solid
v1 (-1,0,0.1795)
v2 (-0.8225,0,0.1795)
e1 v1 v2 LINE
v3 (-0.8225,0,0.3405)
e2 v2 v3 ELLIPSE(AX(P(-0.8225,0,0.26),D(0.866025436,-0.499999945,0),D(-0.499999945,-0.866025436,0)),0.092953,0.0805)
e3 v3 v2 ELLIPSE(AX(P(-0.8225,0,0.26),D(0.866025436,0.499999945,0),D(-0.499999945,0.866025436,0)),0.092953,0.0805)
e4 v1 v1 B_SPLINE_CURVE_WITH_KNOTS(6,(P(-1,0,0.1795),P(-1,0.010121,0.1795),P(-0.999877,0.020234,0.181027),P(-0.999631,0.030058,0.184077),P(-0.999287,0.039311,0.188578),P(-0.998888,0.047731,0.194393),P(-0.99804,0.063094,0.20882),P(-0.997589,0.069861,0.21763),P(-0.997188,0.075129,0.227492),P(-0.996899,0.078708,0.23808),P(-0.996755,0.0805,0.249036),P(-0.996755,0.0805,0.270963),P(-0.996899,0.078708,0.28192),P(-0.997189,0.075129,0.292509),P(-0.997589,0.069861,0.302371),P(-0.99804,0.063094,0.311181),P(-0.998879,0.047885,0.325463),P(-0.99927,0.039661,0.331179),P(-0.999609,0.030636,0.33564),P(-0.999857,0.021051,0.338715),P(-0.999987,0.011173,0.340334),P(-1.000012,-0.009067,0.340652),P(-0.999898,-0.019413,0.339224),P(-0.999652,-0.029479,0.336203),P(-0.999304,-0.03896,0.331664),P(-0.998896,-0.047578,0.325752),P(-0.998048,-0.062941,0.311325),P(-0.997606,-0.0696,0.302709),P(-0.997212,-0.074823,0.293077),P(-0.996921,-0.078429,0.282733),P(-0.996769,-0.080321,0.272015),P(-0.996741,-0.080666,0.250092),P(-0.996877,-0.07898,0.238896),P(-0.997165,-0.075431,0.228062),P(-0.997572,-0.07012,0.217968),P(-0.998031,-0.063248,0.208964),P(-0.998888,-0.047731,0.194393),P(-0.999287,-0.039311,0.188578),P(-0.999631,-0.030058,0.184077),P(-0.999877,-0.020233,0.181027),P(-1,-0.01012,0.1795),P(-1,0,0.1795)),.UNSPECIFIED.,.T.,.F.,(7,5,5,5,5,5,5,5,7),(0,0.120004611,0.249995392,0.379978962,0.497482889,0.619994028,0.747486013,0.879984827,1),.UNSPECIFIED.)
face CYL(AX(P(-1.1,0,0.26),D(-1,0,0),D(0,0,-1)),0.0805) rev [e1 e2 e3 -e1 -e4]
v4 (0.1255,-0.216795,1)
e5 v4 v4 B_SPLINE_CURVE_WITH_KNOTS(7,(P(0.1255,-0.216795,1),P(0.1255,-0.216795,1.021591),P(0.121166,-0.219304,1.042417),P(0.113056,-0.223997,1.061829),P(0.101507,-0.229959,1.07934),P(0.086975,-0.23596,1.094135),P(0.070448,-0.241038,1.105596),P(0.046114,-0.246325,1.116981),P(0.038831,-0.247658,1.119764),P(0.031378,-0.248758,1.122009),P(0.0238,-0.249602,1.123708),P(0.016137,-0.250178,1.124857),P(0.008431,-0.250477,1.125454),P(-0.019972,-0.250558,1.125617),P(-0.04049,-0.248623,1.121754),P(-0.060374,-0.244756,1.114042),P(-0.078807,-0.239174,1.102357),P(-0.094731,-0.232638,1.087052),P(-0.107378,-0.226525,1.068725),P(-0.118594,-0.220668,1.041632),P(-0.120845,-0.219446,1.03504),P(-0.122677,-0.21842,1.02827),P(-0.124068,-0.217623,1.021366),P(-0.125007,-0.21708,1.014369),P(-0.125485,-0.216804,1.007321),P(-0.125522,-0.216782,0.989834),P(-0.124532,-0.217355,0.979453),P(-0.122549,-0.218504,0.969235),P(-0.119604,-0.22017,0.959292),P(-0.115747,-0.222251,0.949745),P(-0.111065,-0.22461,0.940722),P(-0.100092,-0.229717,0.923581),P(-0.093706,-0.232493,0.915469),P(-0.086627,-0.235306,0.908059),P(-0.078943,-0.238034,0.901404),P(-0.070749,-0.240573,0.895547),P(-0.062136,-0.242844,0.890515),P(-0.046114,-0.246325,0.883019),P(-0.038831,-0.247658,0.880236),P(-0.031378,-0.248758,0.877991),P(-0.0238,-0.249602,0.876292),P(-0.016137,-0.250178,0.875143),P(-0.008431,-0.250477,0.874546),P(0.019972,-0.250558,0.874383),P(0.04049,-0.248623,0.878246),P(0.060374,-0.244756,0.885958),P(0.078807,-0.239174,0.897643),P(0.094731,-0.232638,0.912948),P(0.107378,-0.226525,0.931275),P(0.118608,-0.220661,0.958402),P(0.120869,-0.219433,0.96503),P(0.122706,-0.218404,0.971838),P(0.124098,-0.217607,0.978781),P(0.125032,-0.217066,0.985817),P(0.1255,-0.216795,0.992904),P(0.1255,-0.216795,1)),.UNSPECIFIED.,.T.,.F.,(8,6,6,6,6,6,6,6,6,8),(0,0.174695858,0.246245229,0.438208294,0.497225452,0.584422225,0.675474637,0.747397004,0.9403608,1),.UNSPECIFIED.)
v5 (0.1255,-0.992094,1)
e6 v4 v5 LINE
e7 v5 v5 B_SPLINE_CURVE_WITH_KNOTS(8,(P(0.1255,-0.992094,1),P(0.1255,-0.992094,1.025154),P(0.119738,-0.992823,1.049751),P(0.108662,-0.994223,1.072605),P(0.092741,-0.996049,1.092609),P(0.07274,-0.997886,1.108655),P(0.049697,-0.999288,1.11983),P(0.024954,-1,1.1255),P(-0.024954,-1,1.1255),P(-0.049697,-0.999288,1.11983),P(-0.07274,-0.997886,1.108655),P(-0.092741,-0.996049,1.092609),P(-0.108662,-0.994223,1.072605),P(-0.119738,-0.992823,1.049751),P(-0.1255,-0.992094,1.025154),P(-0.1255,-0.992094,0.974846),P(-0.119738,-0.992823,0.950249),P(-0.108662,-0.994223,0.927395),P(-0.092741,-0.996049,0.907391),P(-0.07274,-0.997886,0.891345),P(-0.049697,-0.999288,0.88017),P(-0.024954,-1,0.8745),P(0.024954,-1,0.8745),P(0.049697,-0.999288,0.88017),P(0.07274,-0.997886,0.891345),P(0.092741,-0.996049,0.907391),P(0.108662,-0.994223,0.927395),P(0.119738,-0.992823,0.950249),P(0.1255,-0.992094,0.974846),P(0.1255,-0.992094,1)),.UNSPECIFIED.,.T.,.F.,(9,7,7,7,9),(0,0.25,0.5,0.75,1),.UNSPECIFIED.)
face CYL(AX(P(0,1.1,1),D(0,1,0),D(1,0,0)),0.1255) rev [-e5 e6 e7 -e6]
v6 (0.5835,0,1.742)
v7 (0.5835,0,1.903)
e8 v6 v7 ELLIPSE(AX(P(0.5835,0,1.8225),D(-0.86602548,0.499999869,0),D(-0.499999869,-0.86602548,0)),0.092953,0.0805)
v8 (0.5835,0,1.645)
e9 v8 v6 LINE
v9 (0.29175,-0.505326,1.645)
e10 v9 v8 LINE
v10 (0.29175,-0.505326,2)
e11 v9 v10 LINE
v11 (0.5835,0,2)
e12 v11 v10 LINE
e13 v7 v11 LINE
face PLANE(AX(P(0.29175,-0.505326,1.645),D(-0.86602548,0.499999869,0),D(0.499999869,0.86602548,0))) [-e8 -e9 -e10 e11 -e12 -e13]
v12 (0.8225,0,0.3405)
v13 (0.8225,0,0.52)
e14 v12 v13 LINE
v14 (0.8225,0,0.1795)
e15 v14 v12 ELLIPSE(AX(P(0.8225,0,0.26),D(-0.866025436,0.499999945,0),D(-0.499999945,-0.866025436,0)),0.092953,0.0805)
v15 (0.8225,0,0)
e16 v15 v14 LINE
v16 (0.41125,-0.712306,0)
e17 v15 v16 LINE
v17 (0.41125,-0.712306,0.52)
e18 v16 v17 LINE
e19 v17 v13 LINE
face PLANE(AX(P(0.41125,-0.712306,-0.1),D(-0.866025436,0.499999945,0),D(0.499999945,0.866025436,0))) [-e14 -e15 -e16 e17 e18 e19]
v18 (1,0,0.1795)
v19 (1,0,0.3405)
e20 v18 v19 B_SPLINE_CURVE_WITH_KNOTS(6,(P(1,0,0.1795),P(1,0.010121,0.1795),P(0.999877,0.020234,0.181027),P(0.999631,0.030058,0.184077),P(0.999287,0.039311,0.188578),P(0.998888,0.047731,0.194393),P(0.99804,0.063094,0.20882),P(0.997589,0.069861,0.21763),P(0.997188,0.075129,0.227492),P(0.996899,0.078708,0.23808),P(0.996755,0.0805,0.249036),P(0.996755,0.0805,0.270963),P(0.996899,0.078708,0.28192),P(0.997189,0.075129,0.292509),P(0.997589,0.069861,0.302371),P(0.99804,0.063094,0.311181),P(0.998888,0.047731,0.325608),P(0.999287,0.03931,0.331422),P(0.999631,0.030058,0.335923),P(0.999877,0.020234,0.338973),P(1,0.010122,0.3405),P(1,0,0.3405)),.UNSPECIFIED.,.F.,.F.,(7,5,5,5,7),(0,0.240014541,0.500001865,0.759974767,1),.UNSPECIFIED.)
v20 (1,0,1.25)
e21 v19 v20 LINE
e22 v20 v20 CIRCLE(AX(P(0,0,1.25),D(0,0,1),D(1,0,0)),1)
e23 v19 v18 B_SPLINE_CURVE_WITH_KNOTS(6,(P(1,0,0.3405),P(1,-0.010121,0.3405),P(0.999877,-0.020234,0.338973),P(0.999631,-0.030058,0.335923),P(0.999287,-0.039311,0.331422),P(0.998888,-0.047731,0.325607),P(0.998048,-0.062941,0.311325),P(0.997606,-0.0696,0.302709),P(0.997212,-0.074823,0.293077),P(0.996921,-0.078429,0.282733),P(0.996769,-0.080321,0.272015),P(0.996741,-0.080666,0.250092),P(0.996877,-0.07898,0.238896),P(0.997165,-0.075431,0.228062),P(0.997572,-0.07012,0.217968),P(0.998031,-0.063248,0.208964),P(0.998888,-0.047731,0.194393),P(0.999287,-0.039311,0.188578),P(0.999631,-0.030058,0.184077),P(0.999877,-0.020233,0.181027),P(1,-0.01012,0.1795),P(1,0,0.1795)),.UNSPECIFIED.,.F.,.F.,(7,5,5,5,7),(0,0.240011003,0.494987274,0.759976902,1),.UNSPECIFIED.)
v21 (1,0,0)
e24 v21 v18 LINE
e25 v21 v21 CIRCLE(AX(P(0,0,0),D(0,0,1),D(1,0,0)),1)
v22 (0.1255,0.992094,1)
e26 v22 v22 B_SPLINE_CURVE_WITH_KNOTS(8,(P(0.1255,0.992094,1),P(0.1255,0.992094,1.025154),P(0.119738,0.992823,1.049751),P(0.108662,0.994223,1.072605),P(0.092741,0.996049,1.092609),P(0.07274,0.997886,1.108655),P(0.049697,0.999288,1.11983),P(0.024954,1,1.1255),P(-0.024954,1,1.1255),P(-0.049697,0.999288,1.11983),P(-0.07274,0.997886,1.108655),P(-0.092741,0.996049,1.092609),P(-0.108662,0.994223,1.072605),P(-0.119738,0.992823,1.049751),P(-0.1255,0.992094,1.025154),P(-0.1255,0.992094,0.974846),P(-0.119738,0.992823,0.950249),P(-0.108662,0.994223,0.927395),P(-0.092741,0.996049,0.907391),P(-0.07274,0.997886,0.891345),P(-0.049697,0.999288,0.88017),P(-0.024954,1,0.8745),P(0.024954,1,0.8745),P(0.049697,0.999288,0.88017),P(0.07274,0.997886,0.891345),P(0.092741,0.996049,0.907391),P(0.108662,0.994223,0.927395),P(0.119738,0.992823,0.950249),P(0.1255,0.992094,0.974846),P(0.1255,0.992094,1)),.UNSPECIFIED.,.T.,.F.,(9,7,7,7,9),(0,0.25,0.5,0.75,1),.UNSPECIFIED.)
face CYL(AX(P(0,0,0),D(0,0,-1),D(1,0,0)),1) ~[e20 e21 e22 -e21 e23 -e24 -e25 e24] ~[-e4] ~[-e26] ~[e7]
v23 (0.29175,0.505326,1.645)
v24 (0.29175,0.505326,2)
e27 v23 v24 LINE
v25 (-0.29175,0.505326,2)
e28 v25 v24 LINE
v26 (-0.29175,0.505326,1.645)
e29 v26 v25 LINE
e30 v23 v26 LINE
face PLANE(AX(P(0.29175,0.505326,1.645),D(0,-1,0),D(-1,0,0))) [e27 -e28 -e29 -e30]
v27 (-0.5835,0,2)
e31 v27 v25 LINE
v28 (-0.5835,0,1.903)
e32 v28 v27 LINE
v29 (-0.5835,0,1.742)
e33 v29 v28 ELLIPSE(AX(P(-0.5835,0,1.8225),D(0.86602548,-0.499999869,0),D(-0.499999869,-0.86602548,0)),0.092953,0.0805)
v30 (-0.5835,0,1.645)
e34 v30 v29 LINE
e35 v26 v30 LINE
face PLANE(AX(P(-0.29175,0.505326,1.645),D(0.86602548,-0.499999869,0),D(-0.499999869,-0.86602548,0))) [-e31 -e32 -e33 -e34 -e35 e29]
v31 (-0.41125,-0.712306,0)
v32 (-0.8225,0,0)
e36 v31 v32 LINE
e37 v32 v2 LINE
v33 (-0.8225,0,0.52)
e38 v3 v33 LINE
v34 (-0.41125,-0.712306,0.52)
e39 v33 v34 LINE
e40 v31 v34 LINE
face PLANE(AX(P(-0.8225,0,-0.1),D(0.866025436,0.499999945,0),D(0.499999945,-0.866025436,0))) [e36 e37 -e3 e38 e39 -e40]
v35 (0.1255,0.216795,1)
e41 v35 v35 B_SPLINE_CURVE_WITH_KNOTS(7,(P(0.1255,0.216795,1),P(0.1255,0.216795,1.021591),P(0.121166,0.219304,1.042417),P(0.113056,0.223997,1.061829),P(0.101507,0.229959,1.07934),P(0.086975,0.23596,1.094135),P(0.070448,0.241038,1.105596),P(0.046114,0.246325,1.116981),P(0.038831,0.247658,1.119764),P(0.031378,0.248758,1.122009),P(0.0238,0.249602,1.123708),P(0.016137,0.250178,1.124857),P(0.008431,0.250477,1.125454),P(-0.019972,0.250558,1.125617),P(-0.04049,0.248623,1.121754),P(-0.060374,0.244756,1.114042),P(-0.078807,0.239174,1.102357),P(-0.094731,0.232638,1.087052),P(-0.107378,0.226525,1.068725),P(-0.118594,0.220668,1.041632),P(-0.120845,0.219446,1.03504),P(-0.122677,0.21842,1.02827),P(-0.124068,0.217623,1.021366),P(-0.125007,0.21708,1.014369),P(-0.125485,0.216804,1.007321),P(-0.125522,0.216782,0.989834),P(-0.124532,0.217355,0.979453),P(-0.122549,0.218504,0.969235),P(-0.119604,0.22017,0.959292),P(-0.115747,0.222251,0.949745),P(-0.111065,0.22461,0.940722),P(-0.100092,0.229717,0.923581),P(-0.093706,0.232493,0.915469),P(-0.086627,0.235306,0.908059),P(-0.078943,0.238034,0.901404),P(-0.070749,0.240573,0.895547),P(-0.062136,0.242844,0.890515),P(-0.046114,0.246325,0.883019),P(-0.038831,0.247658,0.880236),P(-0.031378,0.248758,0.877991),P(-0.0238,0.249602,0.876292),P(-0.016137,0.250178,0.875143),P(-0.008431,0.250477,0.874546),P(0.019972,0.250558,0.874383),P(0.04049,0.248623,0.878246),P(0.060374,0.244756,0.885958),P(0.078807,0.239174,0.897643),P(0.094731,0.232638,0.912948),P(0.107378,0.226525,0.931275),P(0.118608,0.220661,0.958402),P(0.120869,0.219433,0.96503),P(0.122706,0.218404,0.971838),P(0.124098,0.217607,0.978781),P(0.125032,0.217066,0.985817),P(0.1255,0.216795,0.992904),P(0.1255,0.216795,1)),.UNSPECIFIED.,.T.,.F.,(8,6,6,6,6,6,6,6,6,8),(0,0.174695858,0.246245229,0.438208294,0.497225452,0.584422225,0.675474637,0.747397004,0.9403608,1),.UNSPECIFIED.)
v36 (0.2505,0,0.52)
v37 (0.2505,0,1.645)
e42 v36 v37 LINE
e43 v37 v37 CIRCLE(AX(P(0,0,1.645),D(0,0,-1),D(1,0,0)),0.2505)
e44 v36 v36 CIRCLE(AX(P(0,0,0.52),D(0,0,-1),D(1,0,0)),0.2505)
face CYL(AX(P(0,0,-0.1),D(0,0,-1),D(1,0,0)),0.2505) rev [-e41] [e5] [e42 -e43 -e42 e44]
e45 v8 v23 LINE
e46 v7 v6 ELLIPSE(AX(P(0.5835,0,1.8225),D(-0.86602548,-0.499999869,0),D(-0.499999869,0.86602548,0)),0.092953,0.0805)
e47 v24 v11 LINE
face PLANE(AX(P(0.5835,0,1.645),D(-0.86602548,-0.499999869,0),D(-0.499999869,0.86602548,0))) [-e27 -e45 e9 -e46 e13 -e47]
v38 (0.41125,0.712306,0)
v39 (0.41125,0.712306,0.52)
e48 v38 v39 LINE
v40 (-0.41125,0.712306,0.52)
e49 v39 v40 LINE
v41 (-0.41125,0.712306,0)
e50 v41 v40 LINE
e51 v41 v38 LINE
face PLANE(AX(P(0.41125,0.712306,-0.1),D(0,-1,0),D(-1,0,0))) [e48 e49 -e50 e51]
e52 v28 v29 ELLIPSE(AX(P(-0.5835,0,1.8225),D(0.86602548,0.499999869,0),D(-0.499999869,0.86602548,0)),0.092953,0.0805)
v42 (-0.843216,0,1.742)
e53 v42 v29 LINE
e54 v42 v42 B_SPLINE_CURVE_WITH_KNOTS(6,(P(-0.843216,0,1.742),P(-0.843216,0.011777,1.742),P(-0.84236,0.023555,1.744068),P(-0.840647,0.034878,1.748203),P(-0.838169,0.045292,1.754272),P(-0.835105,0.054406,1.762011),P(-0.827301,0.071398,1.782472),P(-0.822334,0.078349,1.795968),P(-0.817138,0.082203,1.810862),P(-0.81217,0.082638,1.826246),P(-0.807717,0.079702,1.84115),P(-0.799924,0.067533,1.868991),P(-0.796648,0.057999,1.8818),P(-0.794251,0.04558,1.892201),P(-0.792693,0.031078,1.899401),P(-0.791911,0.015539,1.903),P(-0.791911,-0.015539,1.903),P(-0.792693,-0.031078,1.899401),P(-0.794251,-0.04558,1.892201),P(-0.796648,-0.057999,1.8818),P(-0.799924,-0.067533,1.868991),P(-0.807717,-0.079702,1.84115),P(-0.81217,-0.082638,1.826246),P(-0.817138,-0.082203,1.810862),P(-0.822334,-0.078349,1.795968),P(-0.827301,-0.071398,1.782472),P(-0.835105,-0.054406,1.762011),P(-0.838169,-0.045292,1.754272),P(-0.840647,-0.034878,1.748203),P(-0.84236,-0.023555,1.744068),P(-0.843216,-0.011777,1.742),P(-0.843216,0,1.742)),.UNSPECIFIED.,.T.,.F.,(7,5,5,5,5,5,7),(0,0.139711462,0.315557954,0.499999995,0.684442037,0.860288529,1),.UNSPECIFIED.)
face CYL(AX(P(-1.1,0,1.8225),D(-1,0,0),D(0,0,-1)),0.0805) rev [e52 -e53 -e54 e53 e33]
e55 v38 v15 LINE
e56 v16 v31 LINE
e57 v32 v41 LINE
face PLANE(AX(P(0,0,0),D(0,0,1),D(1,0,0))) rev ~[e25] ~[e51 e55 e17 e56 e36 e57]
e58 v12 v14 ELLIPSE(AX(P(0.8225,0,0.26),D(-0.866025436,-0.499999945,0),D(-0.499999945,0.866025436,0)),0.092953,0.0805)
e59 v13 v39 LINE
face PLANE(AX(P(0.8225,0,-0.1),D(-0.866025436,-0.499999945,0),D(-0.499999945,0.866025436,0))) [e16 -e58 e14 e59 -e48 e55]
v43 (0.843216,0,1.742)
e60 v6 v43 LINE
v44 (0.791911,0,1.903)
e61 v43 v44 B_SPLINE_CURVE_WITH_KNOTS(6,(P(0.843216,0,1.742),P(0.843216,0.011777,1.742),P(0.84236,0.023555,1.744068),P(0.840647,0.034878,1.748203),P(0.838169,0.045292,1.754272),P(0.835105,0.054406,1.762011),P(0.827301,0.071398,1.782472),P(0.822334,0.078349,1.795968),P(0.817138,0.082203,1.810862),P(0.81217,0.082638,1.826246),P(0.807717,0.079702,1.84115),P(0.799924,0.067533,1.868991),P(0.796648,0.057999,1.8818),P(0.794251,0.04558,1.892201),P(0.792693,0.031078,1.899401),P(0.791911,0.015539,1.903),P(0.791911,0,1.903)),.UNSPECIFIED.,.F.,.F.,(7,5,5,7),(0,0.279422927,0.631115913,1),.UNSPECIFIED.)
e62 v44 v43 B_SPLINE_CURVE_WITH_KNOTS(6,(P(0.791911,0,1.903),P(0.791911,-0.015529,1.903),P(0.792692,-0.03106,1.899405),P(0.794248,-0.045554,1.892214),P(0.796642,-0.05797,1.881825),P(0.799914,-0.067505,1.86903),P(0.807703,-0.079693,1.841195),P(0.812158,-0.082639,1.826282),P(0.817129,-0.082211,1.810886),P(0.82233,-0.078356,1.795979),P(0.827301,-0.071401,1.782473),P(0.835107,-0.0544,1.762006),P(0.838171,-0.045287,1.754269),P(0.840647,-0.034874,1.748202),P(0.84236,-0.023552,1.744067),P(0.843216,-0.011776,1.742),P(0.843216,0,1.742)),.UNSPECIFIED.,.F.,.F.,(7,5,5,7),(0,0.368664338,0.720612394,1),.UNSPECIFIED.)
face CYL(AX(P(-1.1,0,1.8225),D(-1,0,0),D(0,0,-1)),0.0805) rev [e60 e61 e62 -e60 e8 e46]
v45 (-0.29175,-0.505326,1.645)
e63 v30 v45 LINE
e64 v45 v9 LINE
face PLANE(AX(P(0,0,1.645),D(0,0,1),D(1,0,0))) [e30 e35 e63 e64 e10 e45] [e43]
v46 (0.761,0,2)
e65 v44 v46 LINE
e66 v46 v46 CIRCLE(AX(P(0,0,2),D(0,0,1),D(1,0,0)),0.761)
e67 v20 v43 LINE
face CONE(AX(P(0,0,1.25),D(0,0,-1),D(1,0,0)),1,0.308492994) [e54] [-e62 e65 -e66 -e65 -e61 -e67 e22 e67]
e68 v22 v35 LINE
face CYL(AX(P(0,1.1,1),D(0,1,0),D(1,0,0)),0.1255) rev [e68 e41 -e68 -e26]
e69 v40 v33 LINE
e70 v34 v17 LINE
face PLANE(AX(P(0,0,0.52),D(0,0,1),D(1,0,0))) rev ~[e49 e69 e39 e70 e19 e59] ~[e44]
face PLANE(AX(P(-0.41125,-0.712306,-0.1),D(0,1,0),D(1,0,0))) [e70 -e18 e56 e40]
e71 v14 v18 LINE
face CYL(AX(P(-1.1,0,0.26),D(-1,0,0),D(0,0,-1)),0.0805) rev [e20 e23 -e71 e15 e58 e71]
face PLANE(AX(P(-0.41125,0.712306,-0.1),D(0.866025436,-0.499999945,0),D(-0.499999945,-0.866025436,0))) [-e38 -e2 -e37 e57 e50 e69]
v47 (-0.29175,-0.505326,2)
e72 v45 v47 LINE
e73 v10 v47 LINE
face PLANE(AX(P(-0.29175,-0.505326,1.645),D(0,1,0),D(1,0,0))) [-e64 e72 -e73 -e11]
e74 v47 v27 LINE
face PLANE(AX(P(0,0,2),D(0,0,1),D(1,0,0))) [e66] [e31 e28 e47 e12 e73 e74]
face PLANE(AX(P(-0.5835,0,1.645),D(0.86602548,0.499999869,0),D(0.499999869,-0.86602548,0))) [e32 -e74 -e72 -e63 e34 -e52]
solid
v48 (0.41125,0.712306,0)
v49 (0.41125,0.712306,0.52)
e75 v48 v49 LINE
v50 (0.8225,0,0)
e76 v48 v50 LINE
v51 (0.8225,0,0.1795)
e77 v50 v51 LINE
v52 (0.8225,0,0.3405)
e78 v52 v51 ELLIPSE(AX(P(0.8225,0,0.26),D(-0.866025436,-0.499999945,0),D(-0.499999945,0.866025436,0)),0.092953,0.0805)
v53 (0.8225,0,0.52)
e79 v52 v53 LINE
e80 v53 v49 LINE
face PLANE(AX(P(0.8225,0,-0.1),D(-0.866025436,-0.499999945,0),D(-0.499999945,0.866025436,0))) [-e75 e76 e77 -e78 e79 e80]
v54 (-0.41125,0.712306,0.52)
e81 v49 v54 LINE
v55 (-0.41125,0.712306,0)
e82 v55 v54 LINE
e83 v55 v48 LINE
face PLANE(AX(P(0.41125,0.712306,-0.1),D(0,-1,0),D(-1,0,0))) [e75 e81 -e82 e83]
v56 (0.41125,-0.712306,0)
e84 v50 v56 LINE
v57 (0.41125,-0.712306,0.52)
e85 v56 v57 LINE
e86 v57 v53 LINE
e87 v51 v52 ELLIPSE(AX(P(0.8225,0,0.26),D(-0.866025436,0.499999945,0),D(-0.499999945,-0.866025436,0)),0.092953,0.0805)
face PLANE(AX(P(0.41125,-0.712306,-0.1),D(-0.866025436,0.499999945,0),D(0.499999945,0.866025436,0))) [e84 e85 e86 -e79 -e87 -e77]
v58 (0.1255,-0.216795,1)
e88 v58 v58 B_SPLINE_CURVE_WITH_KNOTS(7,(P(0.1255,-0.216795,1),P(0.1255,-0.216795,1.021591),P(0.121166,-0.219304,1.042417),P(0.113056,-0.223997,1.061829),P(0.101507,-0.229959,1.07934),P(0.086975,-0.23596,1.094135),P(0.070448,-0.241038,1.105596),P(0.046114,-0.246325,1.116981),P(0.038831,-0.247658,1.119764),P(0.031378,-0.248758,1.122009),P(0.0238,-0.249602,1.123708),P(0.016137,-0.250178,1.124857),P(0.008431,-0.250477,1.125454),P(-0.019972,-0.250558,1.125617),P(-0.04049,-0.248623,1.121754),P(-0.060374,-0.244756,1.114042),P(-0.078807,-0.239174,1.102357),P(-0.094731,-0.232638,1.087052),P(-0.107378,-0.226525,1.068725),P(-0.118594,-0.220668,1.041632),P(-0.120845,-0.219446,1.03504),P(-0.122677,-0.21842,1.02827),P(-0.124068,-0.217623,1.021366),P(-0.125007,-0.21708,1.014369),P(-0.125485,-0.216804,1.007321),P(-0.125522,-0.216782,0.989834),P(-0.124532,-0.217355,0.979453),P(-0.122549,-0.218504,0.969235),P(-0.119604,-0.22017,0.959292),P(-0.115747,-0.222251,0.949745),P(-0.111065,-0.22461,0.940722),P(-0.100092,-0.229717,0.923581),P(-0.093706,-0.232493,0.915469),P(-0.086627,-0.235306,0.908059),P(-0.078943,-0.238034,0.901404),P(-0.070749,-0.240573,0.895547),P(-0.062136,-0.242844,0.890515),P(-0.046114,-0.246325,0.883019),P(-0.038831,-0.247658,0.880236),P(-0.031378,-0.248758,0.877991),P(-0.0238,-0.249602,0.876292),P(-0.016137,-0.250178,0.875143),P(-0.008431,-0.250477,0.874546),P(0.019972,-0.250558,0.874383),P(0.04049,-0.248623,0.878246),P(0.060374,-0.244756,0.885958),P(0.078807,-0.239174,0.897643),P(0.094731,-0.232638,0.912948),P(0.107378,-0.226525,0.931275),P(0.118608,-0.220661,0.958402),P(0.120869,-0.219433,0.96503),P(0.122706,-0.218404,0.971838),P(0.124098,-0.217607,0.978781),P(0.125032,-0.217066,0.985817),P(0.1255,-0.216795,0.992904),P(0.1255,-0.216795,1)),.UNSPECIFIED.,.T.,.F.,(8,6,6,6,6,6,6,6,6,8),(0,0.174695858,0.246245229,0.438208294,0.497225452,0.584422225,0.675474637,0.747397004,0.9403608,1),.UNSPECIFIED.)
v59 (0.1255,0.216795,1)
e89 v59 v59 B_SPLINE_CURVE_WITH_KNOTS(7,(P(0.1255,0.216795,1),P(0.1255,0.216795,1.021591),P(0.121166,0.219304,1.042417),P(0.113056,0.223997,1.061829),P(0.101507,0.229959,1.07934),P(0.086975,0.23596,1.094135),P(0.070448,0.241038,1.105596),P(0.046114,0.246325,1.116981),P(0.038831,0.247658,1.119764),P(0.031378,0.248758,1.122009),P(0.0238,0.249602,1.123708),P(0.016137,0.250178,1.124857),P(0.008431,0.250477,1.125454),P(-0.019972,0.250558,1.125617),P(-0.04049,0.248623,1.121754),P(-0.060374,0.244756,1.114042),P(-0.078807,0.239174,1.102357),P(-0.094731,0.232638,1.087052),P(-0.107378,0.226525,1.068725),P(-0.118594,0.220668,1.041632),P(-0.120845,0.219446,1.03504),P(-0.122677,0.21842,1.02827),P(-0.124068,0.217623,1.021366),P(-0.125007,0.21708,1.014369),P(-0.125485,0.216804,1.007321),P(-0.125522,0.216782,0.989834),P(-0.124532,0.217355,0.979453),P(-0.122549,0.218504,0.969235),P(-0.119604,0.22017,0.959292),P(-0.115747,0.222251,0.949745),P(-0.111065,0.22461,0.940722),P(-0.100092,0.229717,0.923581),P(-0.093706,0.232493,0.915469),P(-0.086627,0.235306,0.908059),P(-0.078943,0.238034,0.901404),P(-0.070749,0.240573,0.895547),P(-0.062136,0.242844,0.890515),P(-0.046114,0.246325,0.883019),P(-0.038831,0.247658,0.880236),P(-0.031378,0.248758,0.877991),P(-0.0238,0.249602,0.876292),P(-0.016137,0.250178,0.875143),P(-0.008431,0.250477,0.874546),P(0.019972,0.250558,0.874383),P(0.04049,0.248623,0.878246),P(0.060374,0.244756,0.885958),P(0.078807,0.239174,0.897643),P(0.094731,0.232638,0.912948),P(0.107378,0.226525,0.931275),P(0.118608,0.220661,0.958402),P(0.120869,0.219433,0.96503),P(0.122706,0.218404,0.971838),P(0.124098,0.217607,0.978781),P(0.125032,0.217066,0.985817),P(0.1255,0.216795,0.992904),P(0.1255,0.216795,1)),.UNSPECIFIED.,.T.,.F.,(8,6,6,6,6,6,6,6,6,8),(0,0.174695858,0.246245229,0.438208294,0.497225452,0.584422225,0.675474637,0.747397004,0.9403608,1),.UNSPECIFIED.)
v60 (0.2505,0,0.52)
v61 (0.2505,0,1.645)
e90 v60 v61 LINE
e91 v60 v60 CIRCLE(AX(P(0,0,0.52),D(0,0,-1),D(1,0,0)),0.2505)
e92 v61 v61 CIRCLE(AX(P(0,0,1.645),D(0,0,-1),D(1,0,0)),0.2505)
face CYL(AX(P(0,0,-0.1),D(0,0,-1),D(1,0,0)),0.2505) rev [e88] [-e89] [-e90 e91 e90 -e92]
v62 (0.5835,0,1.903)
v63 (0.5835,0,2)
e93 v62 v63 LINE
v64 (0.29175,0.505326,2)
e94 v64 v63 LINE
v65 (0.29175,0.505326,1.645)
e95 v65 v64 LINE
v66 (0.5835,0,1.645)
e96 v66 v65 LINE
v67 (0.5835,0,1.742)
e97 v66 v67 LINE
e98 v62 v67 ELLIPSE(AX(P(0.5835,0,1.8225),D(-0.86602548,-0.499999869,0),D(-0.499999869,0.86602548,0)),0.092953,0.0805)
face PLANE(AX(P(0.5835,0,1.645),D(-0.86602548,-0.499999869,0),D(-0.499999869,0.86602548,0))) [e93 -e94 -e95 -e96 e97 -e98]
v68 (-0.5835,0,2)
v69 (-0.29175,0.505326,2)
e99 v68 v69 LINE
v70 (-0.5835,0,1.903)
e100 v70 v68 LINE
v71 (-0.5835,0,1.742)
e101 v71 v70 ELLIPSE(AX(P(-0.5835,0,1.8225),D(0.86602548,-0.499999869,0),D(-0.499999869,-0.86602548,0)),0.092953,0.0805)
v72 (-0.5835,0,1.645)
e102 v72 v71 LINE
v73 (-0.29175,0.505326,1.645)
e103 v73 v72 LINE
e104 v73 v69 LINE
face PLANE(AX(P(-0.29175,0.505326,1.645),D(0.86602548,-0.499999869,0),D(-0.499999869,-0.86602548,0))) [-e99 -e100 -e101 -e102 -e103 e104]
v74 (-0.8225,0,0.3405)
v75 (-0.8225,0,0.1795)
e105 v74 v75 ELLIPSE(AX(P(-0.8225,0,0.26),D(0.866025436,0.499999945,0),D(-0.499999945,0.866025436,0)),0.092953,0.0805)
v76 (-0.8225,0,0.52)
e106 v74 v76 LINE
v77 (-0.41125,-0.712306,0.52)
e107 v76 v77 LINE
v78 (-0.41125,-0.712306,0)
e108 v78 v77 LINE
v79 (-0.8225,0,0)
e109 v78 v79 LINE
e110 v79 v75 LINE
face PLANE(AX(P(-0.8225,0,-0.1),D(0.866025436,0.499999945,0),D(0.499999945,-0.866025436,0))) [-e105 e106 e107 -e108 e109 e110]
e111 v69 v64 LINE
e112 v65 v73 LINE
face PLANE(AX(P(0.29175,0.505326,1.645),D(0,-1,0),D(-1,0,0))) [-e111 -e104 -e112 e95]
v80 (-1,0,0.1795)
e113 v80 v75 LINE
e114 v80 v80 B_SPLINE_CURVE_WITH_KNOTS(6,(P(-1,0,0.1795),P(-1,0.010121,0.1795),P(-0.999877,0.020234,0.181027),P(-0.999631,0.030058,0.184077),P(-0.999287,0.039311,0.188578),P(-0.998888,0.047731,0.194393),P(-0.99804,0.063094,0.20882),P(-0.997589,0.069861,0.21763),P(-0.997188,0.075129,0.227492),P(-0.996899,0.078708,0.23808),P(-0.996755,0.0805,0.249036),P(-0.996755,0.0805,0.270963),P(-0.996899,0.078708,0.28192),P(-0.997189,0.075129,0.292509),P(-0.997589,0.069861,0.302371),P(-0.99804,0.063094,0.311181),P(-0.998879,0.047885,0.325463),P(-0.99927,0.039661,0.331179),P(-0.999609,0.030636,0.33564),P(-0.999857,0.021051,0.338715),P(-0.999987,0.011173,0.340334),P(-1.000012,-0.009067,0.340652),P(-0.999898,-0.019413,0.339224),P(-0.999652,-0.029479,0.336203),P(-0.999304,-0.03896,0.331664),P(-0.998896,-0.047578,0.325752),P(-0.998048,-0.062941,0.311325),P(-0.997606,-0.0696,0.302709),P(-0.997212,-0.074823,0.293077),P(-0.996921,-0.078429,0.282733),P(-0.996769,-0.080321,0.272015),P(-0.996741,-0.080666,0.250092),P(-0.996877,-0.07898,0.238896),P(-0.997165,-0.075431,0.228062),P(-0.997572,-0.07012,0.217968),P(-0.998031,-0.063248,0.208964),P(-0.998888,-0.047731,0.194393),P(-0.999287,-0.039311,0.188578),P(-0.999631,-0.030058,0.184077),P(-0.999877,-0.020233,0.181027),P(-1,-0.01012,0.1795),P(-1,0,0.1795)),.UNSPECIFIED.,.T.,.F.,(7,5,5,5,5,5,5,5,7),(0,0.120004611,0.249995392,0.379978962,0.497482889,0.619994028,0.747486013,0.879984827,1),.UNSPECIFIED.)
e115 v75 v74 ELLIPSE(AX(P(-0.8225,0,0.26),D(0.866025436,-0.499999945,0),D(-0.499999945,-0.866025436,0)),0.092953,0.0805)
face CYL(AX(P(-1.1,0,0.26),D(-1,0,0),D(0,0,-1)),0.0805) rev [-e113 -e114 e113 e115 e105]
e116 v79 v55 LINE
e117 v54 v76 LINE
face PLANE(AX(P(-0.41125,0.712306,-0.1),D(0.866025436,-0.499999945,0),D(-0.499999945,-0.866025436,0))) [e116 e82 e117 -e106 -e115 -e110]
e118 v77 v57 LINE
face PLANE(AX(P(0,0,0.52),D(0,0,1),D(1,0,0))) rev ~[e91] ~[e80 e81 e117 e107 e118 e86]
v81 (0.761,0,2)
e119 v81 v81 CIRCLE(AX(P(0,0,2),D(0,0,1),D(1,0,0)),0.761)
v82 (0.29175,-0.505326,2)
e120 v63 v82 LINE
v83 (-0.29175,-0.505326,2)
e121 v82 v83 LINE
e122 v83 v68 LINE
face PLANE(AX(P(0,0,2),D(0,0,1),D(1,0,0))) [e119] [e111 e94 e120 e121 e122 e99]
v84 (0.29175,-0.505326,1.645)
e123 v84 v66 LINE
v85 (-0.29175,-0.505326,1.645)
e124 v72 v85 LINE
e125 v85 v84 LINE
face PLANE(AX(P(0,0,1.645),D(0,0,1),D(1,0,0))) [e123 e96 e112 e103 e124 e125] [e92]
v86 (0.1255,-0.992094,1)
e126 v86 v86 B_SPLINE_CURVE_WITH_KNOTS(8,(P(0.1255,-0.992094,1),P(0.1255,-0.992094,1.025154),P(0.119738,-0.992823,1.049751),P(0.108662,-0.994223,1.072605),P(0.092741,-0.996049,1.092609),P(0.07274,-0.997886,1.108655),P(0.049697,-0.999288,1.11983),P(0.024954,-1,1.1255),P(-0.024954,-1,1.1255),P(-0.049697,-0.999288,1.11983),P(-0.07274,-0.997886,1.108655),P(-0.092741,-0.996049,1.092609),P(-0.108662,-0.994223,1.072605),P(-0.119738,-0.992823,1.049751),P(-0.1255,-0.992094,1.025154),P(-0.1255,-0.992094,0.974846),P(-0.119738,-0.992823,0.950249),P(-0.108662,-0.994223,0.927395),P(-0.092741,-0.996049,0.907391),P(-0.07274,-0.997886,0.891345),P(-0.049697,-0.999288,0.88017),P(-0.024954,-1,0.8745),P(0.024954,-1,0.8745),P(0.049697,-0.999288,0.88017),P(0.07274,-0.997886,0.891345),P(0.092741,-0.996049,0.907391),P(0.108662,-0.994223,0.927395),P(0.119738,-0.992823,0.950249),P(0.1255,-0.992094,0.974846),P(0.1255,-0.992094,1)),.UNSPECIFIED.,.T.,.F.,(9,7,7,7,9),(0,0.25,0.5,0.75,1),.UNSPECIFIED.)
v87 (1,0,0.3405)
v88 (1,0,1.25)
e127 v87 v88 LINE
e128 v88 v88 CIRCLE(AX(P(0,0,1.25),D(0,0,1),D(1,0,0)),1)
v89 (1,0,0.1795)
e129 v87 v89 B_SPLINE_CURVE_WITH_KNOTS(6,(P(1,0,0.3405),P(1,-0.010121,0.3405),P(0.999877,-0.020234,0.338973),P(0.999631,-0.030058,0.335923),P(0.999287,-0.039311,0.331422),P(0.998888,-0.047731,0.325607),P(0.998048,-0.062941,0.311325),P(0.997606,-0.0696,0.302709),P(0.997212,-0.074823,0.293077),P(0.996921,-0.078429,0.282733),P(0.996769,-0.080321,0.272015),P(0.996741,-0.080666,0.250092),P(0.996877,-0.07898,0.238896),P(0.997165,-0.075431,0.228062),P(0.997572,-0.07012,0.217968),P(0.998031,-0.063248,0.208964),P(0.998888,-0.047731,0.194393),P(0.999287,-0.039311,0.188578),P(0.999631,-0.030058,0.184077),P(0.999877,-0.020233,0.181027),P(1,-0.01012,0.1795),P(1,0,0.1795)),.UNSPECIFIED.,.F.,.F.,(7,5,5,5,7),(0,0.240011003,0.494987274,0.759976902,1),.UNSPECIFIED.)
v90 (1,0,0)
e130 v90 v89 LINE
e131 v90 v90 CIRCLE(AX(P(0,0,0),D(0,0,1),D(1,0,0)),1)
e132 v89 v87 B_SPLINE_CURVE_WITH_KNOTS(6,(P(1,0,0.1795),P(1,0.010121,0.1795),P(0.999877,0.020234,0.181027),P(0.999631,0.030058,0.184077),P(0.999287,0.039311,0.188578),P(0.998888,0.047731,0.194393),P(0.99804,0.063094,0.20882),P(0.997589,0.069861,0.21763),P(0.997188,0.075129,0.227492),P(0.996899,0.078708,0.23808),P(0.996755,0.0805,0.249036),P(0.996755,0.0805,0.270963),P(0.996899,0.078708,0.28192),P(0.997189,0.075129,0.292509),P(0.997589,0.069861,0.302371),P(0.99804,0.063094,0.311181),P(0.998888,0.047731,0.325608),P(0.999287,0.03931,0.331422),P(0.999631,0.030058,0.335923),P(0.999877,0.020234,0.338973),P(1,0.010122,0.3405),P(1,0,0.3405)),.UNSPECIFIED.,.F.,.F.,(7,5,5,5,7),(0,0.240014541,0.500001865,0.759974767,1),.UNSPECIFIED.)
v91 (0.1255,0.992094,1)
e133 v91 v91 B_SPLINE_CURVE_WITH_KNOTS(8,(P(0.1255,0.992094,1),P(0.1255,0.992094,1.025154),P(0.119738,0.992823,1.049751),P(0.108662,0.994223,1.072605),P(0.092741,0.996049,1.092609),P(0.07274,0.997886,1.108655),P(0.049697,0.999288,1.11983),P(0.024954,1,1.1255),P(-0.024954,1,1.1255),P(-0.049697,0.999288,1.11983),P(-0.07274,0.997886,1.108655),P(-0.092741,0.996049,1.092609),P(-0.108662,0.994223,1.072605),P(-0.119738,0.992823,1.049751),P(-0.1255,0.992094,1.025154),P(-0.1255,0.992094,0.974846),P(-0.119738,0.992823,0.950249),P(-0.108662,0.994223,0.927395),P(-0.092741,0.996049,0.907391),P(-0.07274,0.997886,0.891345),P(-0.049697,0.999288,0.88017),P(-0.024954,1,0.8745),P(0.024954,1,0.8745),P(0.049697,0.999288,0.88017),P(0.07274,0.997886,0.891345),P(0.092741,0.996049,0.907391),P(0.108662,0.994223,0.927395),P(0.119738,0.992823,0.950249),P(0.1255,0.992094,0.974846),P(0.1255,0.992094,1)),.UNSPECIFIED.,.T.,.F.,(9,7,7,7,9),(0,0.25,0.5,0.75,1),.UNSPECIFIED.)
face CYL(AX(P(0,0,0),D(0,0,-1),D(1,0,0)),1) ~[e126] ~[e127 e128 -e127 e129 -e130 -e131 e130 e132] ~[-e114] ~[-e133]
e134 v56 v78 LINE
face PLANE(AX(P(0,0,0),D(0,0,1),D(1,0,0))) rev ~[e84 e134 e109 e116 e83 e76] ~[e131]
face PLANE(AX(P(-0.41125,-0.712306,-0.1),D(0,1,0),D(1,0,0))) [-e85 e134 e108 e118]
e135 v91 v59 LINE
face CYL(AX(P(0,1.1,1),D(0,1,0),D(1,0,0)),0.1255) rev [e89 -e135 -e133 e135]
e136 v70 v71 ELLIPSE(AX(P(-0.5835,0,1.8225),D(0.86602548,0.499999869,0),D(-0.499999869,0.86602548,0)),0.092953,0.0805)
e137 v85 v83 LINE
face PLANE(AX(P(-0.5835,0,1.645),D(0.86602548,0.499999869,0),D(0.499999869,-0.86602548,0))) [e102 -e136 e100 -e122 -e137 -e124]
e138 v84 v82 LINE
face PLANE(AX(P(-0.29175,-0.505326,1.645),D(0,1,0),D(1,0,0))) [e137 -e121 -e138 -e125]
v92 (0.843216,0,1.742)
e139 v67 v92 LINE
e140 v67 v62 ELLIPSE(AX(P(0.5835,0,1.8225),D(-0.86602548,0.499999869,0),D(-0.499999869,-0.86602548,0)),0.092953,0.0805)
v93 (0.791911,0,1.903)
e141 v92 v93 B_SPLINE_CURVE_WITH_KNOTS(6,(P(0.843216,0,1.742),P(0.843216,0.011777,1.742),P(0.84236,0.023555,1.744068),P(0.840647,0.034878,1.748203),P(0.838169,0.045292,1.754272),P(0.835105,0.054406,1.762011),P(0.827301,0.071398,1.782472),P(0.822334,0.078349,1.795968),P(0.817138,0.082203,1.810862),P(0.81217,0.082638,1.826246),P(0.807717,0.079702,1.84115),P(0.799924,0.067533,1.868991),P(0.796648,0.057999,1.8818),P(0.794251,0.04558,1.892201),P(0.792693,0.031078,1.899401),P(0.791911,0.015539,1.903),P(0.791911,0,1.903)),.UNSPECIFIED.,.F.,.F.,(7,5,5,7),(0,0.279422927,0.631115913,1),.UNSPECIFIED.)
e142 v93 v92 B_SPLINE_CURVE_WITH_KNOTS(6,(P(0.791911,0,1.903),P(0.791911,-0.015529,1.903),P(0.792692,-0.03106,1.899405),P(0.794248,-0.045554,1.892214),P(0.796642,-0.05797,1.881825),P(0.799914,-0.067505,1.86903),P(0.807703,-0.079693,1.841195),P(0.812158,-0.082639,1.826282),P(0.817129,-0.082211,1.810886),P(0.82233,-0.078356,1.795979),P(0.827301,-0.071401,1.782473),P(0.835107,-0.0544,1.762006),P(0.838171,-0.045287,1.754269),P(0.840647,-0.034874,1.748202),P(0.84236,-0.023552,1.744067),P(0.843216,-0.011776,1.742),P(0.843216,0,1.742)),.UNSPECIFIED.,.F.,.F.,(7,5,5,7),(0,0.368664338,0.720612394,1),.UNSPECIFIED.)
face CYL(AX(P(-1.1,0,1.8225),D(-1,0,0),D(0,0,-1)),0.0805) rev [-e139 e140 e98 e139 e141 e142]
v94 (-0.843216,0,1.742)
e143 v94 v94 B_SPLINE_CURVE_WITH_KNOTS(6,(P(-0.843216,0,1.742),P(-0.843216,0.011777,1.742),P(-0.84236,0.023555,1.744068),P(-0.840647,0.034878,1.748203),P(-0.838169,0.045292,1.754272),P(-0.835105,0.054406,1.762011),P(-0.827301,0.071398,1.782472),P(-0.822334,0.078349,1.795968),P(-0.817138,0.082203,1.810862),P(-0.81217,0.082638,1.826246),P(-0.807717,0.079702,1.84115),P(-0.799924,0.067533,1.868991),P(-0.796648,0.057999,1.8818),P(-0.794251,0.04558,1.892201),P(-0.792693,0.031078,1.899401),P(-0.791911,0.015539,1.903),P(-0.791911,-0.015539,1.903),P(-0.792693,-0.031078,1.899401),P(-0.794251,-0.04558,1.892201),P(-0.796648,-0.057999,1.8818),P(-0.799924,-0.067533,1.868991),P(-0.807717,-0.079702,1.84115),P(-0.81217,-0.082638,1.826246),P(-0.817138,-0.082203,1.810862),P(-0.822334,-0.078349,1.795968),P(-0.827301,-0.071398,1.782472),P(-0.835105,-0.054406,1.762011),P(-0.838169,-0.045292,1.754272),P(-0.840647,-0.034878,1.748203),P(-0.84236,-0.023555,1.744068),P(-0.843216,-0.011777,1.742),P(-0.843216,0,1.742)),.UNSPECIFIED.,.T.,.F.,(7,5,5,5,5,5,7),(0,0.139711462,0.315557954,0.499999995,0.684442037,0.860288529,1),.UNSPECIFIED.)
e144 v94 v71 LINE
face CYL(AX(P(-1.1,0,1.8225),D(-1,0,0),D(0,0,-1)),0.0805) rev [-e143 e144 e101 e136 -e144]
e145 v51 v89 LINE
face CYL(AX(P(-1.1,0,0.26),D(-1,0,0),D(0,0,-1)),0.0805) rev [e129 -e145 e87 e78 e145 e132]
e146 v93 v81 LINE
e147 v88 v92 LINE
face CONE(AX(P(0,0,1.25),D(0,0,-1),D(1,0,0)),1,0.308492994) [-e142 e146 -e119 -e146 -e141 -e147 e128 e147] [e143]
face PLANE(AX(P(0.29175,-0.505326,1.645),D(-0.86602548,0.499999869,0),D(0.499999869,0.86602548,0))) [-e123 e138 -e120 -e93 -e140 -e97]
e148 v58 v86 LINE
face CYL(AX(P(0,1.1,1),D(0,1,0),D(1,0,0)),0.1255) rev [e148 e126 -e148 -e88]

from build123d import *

# Parameters (mm, degrees)
PRISM_DEPTH       = 0.62
PRISM001_DEPTH    = 0.455
CYLINDER003_R     = 0.1255
CYLINDER003_DEPTH = 2.2
CYLINDER004_R     = 0.0805
CYLINDER004_DEPTH = 2.2
CYLINDER005_R     = 0.0805
CYLINDER005_DEPTH = 2.2
CYLINDER002_R     = 0.2505
CYLINDER002_DEPTH = 2.2
CYLINDER_R        = 1
CYLINDER_DEPTH    = 1.25
PRISM002_DEPTH    = 0.62
PRISM003_DEPTH    = 0.455
CYLINDER009_R     = 0.1255
CYLINDER009_DEPTH = 2.2
CYLINDER010_R     = 0.0805
CYLINDER010_DEPTH = 2.2
CYLINDER011_R     = 0.0805
CYLINDER011_DEPTH = 2.2
CYLINDER008_R     = 0.2505
CYLINDER008_DEPTH = 2.2
CYLINDER006_R     = 1
CYLINDER006_DEPTH = 1.25


with BuildPart() as prism:
    # prism → prism (new body)
    with BuildSketch(Plane.XY.offset(-0.1)):
        Polygon((0.8225, 0), (0.41125, 0.712306), (-0.41125, 0.712306), (-0.8225, 0), (-0.41125, -0.712306), (0.41125, -0.712306), align=None)
    extrude(amount=PRISM_DEPTH)


with BuildPart() as prism001:
    # prism001 → prism001 (new body)
    with BuildSketch(Plane.XY.offset(1.645)):
        Polygon((0.5835, 0), (0.29175, 0.505326), (-0.29175, 0.505326), (-0.5835, 0), (-0.29175, -0.505326), (0.29175, -0.505326), align=None)
    extrude(amount=PRISM001_DEPTH)


with BuildPart() as cylinder003:
    # cylinder003 → cylinder003 (new body)
    with BuildSketch(Plane(origin=(0, 1.1, 1), x_dir=(1, 0, 0), z_dir=(0, -1, 0))):
        Circle(CYLINDER003_R)
    extrude(amount=CYLINDER003_DEPTH)


with BuildPart() as cylinder004:
    # cylinder004 → cylinder004 (new body)
    with BuildSketch(Plane(origin=(-1.1, 0, 0.26), x_dir=(0, 0, -1), z_dir=(1, 0, 0))):
        Circle(CYLINDER004_R)
    extrude(amount=CYLINDER004_DEPTH)


with BuildPart() as cylinder005:
    # cylinder005 → cylinder005 (new body)
    with BuildSketch(Plane(origin=(-1.1, 0, 1.8225), x_dir=(0, 0, -1), z_dir=(1, 0, 0))):
        Circle(CYLINDER005_R)
    extrude(amount=CYLINDER005_DEPTH)


with BuildPart() as union001:
    # cylinder002 → cylinder002 (new body)
    with BuildSketch(Plane.XY.offset(-0.1)):
        Circle(CYLINDER002_R)
    extrude(amount=CYLINDER002_DEPTH)

    # union001: union prism, prism001, cylinder003, cylinder004, cylinder005
    add(prism.part)
    add(prism001.part)
    add(cylinder003.part)
    add(cylinder004.part)
    add(cylinder005.part)


with BuildPart() as cylinder001:
    # cylinder001 → cylinder001 (revolve)
    with BuildSketch(Plane(origin=(0, 0, 1.25), x_dir=(1, 0, 0), z_dir=(0, -1, 0))):
        Polygon((0, 0), (1, 0), (0.761, 0.75), (0, 0.75), align=None)
    revolve(axis=Axis((0, 0, 1.25), (0, 0, 1)))


with BuildPart() as difference:
    # cylinder → cylinder (new body)
    with BuildSketch(Plane.XY):
        Circle(CYLINDER_R)
    extrude(amount=CYLINDER_DEPTH)

    # union: union cylinder001
    add(cylinder001.part)

    # difference: cut union001
    add(union001.part, mode=Mode.SUBTRACT)


with BuildPart() as prism002:
    # prism002 → prism002 (new body)
    with BuildSketch(Plane.XY.offset(-0.1)):
        Polygon((0.8225, 0), (0.41125, 0.712306), (-0.41125, 0.712306), (-0.8225, 0), (-0.41125, -0.712306), (0.41125, -0.712306), align=None)
    extrude(amount=PRISM002_DEPTH)


with BuildPart() as prism003:
    # prism003 → prism003 (new body)
    with BuildSketch(Plane.XY.offset(1.645)):
        Polygon((0.5835, 0), (0.29175, 0.505326), (-0.29175, 0.505326), (-0.5835, 0), (-0.29175, -0.505326), (0.29175, -0.505326), align=None)
    extrude(amount=PRISM003_DEPTH)


with BuildPart() as cylinder009:
    # cylinder009 → cylinder009 (new body)
    with BuildSketch(Plane(origin=(0, 1.1, 1), x_dir=(1, 0, 0), z_dir=(0, -1, 0))):
        Circle(CYLINDER009_R)
    extrude(amount=CYLINDER009_DEPTH)


with BuildPart() as cylinder010:
    # cylinder010 → cylinder010 (new body)
    with BuildSketch(Plane(origin=(-1.1, 0, 0.26), x_dir=(0, 0, -1), z_dir=(1, 0, 0))):
        Circle(CYLINDER010_R)
    extrude(amount=CYLINDER010_DEPTH)


with BuildPart() as cylinder011:
    # cylinder011 → cylinder011 (new body)
    with BuildSketch(Plane(origin=(-1.1, 0, 1.8225), x_dir=(0, 0, -1), z_dir=(1, 0, 0))):
        Circle(CYLINDER011_R)
    extrude(amount=CYLINDER011_DEPTH)


with BuildPart() as union003:
    # cylinder008 → cylinder008 (new body)
    with BuildSketch(Plane.XY.offset(-0.1)):
        Circle(CYLINDER008_R)
    extrude(amount=CYLINDER008_DEPTH)

    # union003: union prism002, prism003, cylinder009, cylinder010, cylinder011
    add(prism002.part)
    add(prism003.part)
    add(cylinder009.part)
    add(cylinder010.part)
    add(cylinder011.part)


with BuildPart() as cylinder007:
    # cylinder007 → cylinder007 (revolve)
    with BuildSketch(Plane(origin=(0, 0, 1.25), x_dir=(1, 0, 0), z_dir=(0, -1, 0))):
        Polygon((0, 0), (1, 0), (0.761, 0.75), (0, 0.75), align=None)
    revolve(axis=Axis((0, 0, 1.25), (0, 0, 1)))


with BuildPart() as difference001:
    # cylinder006 → cylinder006 (new body)
    with BuildSketch(Plane.XY):
        Circle(CYLINDER006_R)
    extrude(amount=CYLINDER006_DEPTH)

    # union002: union cylinder007
    add(cylinder007.part)

    # difference001: cut union003
    add(union003.part, mode=Mode.SUBTRACT)


solid = Compound([difference.part, difference001.part])
